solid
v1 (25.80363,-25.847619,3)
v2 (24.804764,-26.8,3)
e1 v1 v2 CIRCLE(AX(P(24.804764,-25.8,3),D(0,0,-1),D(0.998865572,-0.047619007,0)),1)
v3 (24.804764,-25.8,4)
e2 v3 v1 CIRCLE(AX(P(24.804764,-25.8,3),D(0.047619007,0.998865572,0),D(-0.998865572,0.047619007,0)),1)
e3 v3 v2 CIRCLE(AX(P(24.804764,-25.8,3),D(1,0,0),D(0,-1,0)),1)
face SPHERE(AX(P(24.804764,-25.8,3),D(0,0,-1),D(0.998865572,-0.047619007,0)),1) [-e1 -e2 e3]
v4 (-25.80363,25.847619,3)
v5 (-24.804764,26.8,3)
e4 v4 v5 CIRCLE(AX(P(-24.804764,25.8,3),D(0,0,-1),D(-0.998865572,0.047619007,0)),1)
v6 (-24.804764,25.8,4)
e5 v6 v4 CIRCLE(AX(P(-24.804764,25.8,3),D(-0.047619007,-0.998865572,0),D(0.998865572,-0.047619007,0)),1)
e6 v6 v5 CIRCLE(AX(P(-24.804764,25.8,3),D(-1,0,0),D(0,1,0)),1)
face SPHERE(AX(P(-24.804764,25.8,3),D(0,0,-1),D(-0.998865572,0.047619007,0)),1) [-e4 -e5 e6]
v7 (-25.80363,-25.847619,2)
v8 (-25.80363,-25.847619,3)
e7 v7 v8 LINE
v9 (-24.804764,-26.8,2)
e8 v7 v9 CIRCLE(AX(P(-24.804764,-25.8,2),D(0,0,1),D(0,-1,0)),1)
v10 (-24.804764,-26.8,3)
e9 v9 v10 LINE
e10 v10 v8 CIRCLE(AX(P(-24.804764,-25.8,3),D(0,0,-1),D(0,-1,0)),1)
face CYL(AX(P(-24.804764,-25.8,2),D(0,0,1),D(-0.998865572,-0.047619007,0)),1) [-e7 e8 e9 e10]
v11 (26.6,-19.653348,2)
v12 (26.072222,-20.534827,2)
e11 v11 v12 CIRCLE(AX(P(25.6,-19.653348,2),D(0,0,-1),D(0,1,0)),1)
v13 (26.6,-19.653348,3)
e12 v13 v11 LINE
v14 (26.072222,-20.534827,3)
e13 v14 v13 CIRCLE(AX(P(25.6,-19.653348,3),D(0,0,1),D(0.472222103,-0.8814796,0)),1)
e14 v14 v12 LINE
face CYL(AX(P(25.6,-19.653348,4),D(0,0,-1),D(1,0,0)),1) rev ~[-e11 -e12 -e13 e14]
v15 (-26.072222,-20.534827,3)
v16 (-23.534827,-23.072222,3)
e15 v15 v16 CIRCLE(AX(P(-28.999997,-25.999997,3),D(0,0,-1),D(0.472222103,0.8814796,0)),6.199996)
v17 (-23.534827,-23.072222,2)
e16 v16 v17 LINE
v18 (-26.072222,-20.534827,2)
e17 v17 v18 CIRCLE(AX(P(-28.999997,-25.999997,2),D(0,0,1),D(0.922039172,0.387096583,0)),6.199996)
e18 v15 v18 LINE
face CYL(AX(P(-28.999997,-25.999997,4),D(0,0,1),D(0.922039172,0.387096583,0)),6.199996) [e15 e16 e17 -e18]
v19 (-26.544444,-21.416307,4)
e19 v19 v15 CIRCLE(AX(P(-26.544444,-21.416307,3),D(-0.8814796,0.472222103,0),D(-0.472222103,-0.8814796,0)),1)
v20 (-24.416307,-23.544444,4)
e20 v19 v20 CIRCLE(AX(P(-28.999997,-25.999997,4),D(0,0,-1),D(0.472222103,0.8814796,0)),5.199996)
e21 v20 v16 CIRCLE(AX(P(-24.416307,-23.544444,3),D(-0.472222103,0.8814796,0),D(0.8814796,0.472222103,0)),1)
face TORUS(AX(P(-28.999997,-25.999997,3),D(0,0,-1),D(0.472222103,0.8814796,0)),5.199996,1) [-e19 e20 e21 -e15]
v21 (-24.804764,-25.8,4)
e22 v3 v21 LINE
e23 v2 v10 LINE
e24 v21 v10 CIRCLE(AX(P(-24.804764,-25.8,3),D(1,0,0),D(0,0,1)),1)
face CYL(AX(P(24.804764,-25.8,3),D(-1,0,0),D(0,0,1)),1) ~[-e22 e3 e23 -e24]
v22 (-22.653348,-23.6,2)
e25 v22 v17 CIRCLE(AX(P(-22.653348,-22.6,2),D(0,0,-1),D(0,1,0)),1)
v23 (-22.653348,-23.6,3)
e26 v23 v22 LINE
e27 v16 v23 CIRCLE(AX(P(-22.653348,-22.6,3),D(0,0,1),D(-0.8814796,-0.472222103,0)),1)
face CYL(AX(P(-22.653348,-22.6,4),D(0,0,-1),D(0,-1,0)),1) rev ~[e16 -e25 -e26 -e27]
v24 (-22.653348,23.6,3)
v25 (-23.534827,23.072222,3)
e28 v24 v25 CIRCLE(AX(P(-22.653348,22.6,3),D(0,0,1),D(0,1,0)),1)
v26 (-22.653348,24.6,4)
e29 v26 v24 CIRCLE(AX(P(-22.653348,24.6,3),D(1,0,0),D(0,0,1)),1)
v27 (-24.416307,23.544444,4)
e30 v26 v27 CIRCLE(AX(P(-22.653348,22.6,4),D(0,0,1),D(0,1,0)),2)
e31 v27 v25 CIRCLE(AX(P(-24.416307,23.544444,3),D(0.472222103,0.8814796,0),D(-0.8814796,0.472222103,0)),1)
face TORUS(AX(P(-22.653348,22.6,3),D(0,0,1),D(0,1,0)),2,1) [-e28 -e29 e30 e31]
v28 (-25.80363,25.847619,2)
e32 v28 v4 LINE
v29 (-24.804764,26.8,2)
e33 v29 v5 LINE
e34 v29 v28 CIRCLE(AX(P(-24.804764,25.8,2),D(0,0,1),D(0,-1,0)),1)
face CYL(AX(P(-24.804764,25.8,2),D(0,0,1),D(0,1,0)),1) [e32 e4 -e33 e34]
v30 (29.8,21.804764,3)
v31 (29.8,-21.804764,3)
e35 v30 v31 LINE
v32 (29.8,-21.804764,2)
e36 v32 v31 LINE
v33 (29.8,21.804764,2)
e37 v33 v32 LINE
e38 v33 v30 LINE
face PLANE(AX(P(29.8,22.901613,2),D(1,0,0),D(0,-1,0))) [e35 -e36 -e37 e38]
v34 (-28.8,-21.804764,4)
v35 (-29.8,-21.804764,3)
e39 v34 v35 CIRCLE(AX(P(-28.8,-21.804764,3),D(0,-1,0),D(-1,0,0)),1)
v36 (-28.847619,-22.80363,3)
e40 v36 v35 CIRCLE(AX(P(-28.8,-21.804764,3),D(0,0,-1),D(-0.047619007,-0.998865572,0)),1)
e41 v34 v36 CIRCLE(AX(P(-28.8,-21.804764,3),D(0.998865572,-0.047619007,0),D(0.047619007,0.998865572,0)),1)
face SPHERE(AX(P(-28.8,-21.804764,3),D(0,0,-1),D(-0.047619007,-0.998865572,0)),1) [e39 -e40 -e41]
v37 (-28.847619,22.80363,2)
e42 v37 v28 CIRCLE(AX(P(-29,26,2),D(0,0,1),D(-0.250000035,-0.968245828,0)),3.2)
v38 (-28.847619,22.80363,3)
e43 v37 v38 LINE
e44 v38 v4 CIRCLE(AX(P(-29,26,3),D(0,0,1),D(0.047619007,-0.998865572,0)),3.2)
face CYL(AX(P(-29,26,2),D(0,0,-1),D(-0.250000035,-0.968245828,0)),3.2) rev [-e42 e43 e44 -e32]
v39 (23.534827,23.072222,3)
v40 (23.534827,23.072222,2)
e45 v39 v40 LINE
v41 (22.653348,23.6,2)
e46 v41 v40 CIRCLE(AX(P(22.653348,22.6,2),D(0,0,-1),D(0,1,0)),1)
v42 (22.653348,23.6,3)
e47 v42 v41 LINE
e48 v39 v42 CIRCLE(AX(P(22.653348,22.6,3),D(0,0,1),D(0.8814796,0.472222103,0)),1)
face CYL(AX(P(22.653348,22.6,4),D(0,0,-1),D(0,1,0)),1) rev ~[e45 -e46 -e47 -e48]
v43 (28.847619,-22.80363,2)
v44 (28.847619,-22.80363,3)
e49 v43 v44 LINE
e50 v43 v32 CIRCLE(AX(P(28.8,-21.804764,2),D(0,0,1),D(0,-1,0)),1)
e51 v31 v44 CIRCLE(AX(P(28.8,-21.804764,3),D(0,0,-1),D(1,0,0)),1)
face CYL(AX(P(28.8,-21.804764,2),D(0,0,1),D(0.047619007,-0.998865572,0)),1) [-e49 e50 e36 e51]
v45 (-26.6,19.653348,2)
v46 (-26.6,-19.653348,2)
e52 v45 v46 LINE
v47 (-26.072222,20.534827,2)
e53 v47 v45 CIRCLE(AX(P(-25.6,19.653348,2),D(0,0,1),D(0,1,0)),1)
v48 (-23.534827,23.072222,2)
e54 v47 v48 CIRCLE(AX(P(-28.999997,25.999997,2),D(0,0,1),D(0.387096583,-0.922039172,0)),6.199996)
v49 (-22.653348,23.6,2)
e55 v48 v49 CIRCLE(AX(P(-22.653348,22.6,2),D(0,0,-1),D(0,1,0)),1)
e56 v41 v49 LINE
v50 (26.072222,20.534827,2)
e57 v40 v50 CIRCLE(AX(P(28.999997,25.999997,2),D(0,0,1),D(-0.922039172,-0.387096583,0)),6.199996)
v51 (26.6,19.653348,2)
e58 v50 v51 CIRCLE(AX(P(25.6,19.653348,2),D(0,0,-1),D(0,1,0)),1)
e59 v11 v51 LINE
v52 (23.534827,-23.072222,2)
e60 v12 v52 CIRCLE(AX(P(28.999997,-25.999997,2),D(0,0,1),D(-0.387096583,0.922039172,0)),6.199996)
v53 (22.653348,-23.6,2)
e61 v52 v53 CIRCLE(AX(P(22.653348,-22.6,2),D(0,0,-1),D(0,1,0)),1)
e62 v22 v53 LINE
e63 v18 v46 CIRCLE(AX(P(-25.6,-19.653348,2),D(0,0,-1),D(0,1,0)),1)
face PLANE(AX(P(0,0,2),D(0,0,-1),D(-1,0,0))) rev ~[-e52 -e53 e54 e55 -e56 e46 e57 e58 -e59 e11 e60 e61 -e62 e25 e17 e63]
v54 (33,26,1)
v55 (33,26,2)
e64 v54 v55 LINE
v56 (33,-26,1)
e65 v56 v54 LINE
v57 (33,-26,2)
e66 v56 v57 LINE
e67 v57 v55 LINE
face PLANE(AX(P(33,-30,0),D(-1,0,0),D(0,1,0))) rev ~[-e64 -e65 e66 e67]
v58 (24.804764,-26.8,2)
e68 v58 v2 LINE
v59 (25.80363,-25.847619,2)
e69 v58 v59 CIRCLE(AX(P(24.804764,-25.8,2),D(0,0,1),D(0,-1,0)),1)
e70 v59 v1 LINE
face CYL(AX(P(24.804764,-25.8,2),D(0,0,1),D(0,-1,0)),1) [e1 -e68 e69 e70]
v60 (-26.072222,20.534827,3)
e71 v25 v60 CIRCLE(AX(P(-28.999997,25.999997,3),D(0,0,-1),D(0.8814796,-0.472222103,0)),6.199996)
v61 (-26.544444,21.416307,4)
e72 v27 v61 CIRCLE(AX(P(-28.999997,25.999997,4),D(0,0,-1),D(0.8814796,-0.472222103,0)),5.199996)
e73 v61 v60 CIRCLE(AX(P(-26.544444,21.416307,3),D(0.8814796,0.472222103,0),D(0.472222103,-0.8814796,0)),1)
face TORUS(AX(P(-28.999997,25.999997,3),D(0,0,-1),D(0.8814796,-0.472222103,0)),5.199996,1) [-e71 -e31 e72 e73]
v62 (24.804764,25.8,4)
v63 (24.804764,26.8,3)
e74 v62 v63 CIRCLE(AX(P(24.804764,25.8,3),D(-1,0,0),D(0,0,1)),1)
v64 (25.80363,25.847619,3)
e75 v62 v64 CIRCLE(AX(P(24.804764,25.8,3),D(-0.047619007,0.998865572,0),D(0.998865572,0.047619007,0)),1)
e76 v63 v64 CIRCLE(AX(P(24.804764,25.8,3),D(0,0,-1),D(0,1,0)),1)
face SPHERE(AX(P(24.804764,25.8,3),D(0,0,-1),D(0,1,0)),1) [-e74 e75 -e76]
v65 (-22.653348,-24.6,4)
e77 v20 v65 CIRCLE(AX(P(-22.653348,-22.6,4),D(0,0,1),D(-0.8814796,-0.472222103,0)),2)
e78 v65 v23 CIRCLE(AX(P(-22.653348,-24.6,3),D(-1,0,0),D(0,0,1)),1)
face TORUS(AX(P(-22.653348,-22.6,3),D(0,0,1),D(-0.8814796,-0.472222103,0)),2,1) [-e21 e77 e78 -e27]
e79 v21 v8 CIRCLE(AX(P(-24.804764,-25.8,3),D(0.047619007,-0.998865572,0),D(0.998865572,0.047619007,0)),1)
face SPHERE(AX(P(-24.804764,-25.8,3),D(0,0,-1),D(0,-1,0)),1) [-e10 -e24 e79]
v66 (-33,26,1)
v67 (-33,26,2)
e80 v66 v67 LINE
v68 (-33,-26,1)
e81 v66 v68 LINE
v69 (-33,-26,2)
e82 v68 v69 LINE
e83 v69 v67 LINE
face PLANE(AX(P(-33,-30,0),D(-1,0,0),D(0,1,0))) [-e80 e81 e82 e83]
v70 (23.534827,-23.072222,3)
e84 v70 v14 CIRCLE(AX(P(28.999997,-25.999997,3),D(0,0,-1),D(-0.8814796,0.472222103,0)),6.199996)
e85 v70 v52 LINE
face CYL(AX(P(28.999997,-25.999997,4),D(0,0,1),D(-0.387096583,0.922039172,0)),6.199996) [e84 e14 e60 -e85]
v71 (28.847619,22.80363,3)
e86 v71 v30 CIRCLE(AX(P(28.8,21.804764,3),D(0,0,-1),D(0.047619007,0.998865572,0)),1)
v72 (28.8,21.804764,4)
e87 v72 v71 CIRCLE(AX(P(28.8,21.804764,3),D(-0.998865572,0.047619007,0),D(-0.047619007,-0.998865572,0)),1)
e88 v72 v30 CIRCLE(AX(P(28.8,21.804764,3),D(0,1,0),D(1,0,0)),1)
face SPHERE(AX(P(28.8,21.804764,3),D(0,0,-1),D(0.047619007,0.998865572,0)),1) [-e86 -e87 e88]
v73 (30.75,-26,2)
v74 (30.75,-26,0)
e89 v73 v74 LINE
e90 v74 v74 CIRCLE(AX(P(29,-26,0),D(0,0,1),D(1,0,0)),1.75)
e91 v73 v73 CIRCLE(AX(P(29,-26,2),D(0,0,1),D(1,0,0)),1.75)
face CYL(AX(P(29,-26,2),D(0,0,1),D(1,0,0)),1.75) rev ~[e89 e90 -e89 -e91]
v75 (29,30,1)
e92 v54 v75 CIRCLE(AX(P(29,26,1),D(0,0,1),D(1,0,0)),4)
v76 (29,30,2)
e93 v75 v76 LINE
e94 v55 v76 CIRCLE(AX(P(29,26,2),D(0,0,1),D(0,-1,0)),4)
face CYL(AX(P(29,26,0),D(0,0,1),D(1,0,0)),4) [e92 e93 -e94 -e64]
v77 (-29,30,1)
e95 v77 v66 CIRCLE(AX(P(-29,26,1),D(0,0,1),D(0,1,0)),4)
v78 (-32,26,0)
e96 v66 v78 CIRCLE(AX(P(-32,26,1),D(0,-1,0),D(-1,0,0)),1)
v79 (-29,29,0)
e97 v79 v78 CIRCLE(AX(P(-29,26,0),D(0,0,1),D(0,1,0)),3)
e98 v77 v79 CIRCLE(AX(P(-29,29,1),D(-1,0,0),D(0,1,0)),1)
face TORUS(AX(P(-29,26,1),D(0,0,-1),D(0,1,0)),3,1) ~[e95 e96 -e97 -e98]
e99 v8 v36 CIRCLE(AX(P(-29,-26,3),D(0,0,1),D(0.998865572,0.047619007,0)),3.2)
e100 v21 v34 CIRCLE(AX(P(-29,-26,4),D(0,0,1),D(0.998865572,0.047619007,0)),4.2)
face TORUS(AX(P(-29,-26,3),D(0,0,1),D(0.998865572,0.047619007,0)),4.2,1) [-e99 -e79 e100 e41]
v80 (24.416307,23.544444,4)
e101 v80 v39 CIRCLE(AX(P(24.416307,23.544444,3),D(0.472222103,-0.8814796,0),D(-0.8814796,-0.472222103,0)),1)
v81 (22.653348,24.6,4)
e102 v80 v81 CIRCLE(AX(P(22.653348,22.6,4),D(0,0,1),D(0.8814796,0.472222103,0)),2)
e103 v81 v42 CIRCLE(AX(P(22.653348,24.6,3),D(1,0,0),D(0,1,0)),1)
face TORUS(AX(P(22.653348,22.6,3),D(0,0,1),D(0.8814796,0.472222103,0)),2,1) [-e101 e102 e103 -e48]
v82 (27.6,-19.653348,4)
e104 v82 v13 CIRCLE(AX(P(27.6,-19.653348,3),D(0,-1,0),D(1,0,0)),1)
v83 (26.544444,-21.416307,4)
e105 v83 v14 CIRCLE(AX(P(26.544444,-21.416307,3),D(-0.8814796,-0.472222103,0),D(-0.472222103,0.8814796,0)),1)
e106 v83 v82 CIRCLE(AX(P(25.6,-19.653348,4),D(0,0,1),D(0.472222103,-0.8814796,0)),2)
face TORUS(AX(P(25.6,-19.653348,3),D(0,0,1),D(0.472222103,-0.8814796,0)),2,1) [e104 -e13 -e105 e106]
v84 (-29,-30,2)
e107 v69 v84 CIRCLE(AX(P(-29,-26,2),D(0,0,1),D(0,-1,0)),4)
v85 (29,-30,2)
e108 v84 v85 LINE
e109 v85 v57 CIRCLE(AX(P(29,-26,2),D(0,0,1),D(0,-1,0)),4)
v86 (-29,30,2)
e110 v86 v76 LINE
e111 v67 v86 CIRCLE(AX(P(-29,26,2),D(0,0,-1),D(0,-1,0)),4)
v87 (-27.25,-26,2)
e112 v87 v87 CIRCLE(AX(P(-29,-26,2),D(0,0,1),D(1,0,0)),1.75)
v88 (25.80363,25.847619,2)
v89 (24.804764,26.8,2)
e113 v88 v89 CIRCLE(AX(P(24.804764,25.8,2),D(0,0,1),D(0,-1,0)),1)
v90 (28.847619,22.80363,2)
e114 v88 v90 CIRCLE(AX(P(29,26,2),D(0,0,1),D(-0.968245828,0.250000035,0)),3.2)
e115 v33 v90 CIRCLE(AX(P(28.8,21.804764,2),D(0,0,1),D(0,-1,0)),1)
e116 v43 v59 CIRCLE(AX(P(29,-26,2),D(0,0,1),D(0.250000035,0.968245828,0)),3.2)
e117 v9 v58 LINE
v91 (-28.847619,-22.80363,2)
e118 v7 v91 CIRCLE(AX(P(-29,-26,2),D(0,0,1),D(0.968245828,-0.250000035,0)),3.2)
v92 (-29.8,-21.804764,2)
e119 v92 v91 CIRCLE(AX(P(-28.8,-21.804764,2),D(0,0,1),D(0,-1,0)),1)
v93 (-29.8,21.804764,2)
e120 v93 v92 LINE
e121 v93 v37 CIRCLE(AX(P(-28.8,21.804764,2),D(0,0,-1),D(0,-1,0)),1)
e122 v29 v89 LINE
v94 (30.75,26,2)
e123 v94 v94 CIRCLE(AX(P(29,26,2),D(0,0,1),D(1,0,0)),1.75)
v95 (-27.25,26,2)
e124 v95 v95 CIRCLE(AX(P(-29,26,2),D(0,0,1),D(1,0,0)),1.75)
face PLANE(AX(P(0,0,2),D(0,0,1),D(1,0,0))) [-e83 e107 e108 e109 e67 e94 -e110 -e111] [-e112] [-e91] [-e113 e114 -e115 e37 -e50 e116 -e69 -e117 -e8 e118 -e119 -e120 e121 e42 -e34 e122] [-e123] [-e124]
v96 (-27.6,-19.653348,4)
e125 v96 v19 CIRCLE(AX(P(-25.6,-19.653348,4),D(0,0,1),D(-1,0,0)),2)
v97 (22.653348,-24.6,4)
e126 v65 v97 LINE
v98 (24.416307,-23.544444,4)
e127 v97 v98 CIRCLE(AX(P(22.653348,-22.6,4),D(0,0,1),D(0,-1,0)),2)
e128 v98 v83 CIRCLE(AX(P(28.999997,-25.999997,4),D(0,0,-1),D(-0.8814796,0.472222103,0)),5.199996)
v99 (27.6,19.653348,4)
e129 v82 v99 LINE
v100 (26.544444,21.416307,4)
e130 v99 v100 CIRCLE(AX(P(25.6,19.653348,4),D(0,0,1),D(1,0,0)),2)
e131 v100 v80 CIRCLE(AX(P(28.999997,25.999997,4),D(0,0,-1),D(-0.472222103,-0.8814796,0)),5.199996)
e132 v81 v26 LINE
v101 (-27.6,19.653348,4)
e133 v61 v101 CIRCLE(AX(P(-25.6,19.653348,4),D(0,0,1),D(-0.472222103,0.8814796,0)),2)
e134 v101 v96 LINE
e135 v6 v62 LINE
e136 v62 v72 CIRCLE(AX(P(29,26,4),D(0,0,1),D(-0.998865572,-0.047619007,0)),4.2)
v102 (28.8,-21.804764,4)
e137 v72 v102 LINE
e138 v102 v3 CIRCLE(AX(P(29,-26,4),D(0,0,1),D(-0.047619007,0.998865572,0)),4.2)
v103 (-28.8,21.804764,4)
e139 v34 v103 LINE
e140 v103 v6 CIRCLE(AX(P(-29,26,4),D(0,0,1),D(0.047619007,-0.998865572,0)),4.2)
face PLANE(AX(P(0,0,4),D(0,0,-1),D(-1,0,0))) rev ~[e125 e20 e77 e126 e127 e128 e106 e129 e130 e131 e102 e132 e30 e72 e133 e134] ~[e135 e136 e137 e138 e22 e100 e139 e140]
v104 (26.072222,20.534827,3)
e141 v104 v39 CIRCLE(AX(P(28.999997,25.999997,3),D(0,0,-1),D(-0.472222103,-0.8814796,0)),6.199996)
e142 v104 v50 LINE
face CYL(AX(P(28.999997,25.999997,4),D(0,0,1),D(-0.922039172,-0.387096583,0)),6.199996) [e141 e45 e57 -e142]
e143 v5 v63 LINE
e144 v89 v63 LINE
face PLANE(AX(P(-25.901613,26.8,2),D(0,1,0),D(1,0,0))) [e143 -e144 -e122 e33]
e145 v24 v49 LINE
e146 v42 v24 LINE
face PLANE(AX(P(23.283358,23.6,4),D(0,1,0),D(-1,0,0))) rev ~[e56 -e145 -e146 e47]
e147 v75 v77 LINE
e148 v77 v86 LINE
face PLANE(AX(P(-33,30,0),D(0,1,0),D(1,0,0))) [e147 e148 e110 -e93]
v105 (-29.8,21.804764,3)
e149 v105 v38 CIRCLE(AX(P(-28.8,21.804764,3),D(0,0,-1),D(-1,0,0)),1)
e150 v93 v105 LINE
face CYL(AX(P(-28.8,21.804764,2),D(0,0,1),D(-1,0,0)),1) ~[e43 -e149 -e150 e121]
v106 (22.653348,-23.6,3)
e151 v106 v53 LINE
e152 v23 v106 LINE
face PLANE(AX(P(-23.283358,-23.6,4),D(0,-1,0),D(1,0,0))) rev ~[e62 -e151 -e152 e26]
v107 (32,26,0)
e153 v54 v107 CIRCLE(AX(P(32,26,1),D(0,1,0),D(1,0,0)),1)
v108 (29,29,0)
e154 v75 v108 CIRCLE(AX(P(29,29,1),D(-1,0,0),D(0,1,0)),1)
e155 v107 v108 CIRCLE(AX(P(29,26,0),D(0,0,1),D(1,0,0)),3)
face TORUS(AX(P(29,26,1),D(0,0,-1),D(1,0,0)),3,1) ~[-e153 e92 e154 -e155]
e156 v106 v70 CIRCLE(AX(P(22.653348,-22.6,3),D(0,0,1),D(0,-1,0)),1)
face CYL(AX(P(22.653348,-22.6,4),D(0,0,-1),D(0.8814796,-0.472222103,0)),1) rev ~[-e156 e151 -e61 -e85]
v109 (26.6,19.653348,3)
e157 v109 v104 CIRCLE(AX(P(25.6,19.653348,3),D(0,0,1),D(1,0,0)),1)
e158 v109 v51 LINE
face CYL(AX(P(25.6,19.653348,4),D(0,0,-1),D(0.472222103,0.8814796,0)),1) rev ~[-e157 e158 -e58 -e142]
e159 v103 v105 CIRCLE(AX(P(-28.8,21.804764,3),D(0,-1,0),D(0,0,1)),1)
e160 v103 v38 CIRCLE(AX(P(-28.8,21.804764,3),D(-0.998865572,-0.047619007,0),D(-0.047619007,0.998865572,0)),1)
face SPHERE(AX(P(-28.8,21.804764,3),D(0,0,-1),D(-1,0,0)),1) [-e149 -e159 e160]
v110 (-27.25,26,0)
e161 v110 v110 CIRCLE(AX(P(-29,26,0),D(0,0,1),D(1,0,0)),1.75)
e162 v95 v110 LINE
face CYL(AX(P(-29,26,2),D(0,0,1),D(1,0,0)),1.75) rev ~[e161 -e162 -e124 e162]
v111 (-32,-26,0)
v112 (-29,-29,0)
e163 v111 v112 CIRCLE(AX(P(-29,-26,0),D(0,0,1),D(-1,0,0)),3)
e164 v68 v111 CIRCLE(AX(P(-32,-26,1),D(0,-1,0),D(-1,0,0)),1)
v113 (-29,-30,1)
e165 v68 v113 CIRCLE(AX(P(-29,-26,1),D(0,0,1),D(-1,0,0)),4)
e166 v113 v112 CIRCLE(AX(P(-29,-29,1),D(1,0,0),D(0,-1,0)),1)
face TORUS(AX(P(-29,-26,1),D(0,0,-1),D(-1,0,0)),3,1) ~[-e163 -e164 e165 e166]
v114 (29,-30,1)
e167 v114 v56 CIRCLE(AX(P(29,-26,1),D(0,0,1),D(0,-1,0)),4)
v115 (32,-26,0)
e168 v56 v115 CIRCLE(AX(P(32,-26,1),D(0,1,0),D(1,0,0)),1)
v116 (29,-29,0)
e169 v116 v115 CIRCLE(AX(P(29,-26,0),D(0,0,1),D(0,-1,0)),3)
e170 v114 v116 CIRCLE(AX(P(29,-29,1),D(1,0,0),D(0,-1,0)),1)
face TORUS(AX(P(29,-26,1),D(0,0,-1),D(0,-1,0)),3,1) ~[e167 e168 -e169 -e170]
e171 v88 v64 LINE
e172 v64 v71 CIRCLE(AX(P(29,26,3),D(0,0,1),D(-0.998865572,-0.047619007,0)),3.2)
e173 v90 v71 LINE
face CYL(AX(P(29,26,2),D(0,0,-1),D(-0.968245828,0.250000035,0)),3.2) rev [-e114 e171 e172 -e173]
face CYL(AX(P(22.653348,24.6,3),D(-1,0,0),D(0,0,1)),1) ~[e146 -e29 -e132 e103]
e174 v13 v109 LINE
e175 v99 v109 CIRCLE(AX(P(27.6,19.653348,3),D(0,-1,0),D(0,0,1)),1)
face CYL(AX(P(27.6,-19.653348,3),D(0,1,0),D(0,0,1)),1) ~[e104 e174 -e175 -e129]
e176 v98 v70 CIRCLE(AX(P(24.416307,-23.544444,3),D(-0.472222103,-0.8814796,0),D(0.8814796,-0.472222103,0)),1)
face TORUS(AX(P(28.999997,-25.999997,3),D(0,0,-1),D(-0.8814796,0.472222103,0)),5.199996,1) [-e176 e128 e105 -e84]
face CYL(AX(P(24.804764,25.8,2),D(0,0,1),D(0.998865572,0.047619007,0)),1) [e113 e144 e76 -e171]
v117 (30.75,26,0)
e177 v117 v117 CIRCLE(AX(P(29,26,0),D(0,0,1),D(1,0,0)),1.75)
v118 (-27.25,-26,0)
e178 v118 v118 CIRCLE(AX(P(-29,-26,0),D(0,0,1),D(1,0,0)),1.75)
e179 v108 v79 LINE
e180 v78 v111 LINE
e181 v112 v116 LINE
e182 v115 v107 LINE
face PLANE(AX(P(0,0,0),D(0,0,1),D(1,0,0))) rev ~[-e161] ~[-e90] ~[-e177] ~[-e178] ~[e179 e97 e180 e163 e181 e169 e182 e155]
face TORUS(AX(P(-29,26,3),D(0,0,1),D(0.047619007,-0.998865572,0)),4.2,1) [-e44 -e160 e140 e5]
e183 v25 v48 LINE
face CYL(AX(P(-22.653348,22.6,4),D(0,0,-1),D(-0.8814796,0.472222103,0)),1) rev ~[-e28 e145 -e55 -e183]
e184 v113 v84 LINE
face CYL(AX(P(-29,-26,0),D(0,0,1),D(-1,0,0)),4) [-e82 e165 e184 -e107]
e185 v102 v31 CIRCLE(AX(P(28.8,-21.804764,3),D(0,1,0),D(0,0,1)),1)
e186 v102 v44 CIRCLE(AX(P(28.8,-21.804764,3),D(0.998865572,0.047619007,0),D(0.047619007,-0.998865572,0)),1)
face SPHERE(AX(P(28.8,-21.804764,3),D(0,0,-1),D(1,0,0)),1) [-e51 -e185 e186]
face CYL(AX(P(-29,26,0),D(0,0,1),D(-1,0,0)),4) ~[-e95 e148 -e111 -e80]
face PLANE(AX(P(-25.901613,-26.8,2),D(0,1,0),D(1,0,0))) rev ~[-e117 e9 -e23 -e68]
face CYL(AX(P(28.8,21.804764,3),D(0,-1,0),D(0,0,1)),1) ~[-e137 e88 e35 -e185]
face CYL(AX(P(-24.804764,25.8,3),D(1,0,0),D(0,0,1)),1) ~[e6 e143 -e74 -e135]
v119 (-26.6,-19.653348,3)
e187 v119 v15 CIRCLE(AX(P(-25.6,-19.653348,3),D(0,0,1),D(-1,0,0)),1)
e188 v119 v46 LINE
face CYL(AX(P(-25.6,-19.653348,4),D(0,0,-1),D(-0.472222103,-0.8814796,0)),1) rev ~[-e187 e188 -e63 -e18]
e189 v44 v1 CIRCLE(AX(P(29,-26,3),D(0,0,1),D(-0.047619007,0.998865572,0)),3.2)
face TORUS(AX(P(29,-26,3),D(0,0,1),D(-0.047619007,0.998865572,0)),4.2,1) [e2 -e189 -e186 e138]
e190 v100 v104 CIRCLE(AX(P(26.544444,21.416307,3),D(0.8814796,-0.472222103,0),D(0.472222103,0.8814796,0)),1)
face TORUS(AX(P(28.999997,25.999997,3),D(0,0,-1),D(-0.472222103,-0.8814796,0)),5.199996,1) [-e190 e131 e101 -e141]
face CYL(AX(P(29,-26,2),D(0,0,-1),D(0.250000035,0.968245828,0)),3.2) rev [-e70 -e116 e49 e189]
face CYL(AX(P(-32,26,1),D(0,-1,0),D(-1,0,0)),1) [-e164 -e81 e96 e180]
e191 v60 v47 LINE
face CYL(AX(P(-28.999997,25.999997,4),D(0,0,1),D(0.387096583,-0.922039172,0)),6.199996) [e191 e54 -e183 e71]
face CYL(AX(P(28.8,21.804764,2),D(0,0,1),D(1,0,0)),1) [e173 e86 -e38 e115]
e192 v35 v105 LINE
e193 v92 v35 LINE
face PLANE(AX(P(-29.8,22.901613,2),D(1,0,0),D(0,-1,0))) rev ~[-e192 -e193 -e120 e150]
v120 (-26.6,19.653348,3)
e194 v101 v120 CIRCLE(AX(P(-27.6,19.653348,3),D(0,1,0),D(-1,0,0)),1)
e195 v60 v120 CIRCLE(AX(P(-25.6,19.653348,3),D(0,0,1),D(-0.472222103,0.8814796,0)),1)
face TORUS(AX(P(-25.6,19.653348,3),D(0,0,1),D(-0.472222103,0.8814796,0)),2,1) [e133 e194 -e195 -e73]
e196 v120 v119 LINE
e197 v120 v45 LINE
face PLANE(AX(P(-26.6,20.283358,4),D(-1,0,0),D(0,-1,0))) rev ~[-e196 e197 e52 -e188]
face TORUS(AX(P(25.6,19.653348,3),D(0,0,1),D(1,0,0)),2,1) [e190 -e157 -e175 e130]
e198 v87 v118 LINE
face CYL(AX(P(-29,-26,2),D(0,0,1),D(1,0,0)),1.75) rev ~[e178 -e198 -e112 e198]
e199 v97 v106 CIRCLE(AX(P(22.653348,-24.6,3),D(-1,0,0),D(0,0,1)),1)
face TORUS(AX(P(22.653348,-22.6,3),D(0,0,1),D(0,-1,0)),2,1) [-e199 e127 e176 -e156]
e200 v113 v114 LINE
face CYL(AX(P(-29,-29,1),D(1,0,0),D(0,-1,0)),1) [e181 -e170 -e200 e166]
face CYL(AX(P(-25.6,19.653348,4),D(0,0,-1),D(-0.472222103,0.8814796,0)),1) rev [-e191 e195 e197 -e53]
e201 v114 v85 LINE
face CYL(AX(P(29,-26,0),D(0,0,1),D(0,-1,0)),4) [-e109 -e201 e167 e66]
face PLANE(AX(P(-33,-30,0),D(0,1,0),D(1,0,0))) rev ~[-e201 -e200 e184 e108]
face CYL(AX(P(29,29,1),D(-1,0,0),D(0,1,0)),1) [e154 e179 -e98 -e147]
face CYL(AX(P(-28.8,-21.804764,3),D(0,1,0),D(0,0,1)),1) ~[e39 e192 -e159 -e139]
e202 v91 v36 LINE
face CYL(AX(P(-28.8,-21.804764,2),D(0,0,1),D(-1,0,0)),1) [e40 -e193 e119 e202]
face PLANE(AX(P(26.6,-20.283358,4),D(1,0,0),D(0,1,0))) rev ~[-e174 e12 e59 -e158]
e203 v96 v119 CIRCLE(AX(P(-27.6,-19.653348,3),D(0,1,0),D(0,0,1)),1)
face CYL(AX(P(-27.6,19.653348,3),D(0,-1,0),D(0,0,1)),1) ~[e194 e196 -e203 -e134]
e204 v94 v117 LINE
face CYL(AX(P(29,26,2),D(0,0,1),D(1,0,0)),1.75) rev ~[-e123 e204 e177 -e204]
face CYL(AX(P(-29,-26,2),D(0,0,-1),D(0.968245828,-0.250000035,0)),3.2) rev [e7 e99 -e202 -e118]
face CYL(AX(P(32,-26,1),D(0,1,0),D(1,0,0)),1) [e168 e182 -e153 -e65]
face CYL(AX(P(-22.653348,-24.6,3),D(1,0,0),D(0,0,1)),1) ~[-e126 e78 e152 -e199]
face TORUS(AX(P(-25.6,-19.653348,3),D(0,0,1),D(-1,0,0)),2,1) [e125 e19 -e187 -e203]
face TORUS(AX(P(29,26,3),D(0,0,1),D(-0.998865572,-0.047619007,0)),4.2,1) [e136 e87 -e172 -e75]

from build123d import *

# Parameters (mm, degrees)
SKETCH_W        = 66
SKETCH_H        = 60
PAD_DEPTH       = 2
FILLET_R        = 4
SKETCH001_R     = 1.75
POCKET_DEPTH    = 2.001
PAD001_DEPTH    = 2
POCKET001_DEPTH = 2
FILLET001_R     = 1
FILLET002_R     = 1
FILLET003_R     = 1
FILLET004_R     = 1


with BuildPart() as part:
    # Sketch → Pad (new body)
    with BuildSketch(Plane.XY):
        Rectangle(SKETCH_W, SKETCH_H)
    extrude(amount=PAD_DEPTH)

    # Fillet
    fillet_edges = [part.edges().sort_by_distance(p)[0] for p in [
        (-33, -30, 1),
        (33, -30, 1),
        (33, 30, 1),
        (-33, 30, 1),
    ]]
    fillet(fillet_edges, radius=FILLET_R)

    # Sketch001 (on Face5 of Fillet) → Pocket (cut, through all)
    with BuildSketch(Plane.XY.offset(2)):
        with Locations((-29, 26)):
            Circle(SKETCH001_R)
        with Locations((29, 26)):
            Circle(SKETCH001_R)
        with Locations((29, -26)):
            Circle(SKETCH001_R)
        with Locations((-29, -26)):
            Circle(SKETCH001_R)
    extrude(amount=-POCKET_DEPTH, mode=Mode.SUBTRACT)

    # Sketch002 (on Face5 of Pocket) → Pad001 (join)
    with BuildSketch(Plane.XY.offset(2)):
        with BuildLine():
            ThreePointArc((-29.8, 22.901613), (-26.737258, 23.737258), (-25.901613, 26.8))
            Line((-25.901613, 26.8), (25.901613, 26.8))
            ThreePointArc((25.901613, 26.8), (26.737258, 23.737258), (29.8, 22.901613))
            Line((29.8, 22.901613), (29.8, -22.901613))
            ThreePointArc((29.8, -22.901613), (26.737258, -23.737258), (25.901613, -26.8))
            Line((-25.901613, -26.8), (25.901613, -26.8))
            ThreePointArc((-25.901613, -26.8), (-26.737258, -23.737258), (-29.8, -22.901613))
            Line((-29.8, 22.901613), (-29.8, -22.901613))
        make_face()
    extrude(amount=PAD001_DEPTH)

    # Sketch003 (on Face23 of Pad001) → Pocket001 (cut)
    with BuildSketch(Plane.XY.offset(4)):
        with BuildLine():
            ThreePointArc((-26.6, 20.283358), (-24.615938, 21.615938), (-23.283358, 23.6))
            Line((23.283358, 23.6), (-23.283358, 23.6))
            ThreePointArc((23.283358, 23.6), (24.615938, 21.615938), (26.6, 20.283358))
            Line((26.6, -20.283358), (26.6, 20.283358))
            ThreePointArc((26.6, -20.283358), (24.615938, -21.615938), (23.283358, -23.6))
            Line((-23.283358, -23.6), (23.283358, -23.6))
            ThreePointArc((-23.283358, -23.6), (-24.615938, -21.615938), (-26.6, -20.283358))
            Line((-26.6, 20.283358), (-26.6, -20.283358))
        make_face()
    extrude(amount=-POCKET001_DEPTH, mode=Mode.SUBTRACT)

    # Fillet001
    fillet001_edges = [part.edges().sort_by_distance(p)[0] for p in [
        (-25.901613, 26.8, 3),
        (-29.8, 22.901613, 3),
        (-29.8, -22.901613, 3),
        (-25.901613, -26.8, 3),
        (25.901613, 26.8, 3),
        (29.8, 22.901613, 3),
        (29.8, -22.901613, 3),
        (25.901613, -26.8, 3),
    ]]
    fillet(fillet001_edges, radius=FILLET001_R)

    # Fillet002
    fillet002_edges = [part.edges().sort_by_distance(p)[0] for p in [
        (-26.6, 20.283358, 3),
        (-23.283358, 23.6, 3),
        (23.283358, 23.6, 3),
        (26.6, 20.283358, 3),
        (26.6, -20.283358, 3),
        (23.283358, -23.6, 3),
        (-26.6, -20.283358, 3),
        (-23.283358, -23.6, 3),
    ]]
    fillet(fillet002_edges, radius=FILLET002_R)

    # Fillet003
    fillet003_edges = [part.edges().sort_by_distance(p)[0] for p in [
        (0, -23.6, 4),
        (-23.167049, -23.457969, 4),
        (23.167049, -23.457969, 4),
        (-24.615938, -21.615938, 4),
        (24.615938, -21.615938, 4),
        (-26.457969, -20.167049, 4),
        (26.457969, -20.167049, 4),
        (-26.6, 0, 4),
        (26.6, 0, 4),
        (-26.457969, 20.167049, 4),
        (26.457969, 20.167049, 4),
        (-24.615938, 21.615938, 4),
        (24.615938, 21.615938, 4),
        (-23.167049, 23.457969, 4),
        (23.167049, 23.457969, 4),
        (0, 23.6, 4),
        (-26.737258, -23.737258, 4),
        (-25.49483, -26.523747, 4),
        (-29.523747, -22.49483, 4),
        (0, -26.8, 4),
        (-29.8, 0, 4),
        (25.49483, -26.523747, 4),
        (-29.523747, 22.49483, 4),
        (26.737258, -23.737258, 4),
        (-26.737258, 23.737258, 4),
        (29.523747, -22.49483, 4),
        (-25.49483, 26.523747, 4),
        (29.8, 0, 4),
        (0, 26.8, 4),
        (29.523747, 22.49483, 4),
        (25.49483, 26.523747, 4),
        (26.737258, 23.737258, 4),
    ]]
    fillet(fillet003_edges, radius=FILLET003_R)

    # Fillet004
    fillet004_edges = [part.edges().sort_by_distance(p)[0] for p in [
        (0, -30, 0),
    ]]
    fillet(fillet004_edges, radius=FILLET004_R)


solid = part.part
